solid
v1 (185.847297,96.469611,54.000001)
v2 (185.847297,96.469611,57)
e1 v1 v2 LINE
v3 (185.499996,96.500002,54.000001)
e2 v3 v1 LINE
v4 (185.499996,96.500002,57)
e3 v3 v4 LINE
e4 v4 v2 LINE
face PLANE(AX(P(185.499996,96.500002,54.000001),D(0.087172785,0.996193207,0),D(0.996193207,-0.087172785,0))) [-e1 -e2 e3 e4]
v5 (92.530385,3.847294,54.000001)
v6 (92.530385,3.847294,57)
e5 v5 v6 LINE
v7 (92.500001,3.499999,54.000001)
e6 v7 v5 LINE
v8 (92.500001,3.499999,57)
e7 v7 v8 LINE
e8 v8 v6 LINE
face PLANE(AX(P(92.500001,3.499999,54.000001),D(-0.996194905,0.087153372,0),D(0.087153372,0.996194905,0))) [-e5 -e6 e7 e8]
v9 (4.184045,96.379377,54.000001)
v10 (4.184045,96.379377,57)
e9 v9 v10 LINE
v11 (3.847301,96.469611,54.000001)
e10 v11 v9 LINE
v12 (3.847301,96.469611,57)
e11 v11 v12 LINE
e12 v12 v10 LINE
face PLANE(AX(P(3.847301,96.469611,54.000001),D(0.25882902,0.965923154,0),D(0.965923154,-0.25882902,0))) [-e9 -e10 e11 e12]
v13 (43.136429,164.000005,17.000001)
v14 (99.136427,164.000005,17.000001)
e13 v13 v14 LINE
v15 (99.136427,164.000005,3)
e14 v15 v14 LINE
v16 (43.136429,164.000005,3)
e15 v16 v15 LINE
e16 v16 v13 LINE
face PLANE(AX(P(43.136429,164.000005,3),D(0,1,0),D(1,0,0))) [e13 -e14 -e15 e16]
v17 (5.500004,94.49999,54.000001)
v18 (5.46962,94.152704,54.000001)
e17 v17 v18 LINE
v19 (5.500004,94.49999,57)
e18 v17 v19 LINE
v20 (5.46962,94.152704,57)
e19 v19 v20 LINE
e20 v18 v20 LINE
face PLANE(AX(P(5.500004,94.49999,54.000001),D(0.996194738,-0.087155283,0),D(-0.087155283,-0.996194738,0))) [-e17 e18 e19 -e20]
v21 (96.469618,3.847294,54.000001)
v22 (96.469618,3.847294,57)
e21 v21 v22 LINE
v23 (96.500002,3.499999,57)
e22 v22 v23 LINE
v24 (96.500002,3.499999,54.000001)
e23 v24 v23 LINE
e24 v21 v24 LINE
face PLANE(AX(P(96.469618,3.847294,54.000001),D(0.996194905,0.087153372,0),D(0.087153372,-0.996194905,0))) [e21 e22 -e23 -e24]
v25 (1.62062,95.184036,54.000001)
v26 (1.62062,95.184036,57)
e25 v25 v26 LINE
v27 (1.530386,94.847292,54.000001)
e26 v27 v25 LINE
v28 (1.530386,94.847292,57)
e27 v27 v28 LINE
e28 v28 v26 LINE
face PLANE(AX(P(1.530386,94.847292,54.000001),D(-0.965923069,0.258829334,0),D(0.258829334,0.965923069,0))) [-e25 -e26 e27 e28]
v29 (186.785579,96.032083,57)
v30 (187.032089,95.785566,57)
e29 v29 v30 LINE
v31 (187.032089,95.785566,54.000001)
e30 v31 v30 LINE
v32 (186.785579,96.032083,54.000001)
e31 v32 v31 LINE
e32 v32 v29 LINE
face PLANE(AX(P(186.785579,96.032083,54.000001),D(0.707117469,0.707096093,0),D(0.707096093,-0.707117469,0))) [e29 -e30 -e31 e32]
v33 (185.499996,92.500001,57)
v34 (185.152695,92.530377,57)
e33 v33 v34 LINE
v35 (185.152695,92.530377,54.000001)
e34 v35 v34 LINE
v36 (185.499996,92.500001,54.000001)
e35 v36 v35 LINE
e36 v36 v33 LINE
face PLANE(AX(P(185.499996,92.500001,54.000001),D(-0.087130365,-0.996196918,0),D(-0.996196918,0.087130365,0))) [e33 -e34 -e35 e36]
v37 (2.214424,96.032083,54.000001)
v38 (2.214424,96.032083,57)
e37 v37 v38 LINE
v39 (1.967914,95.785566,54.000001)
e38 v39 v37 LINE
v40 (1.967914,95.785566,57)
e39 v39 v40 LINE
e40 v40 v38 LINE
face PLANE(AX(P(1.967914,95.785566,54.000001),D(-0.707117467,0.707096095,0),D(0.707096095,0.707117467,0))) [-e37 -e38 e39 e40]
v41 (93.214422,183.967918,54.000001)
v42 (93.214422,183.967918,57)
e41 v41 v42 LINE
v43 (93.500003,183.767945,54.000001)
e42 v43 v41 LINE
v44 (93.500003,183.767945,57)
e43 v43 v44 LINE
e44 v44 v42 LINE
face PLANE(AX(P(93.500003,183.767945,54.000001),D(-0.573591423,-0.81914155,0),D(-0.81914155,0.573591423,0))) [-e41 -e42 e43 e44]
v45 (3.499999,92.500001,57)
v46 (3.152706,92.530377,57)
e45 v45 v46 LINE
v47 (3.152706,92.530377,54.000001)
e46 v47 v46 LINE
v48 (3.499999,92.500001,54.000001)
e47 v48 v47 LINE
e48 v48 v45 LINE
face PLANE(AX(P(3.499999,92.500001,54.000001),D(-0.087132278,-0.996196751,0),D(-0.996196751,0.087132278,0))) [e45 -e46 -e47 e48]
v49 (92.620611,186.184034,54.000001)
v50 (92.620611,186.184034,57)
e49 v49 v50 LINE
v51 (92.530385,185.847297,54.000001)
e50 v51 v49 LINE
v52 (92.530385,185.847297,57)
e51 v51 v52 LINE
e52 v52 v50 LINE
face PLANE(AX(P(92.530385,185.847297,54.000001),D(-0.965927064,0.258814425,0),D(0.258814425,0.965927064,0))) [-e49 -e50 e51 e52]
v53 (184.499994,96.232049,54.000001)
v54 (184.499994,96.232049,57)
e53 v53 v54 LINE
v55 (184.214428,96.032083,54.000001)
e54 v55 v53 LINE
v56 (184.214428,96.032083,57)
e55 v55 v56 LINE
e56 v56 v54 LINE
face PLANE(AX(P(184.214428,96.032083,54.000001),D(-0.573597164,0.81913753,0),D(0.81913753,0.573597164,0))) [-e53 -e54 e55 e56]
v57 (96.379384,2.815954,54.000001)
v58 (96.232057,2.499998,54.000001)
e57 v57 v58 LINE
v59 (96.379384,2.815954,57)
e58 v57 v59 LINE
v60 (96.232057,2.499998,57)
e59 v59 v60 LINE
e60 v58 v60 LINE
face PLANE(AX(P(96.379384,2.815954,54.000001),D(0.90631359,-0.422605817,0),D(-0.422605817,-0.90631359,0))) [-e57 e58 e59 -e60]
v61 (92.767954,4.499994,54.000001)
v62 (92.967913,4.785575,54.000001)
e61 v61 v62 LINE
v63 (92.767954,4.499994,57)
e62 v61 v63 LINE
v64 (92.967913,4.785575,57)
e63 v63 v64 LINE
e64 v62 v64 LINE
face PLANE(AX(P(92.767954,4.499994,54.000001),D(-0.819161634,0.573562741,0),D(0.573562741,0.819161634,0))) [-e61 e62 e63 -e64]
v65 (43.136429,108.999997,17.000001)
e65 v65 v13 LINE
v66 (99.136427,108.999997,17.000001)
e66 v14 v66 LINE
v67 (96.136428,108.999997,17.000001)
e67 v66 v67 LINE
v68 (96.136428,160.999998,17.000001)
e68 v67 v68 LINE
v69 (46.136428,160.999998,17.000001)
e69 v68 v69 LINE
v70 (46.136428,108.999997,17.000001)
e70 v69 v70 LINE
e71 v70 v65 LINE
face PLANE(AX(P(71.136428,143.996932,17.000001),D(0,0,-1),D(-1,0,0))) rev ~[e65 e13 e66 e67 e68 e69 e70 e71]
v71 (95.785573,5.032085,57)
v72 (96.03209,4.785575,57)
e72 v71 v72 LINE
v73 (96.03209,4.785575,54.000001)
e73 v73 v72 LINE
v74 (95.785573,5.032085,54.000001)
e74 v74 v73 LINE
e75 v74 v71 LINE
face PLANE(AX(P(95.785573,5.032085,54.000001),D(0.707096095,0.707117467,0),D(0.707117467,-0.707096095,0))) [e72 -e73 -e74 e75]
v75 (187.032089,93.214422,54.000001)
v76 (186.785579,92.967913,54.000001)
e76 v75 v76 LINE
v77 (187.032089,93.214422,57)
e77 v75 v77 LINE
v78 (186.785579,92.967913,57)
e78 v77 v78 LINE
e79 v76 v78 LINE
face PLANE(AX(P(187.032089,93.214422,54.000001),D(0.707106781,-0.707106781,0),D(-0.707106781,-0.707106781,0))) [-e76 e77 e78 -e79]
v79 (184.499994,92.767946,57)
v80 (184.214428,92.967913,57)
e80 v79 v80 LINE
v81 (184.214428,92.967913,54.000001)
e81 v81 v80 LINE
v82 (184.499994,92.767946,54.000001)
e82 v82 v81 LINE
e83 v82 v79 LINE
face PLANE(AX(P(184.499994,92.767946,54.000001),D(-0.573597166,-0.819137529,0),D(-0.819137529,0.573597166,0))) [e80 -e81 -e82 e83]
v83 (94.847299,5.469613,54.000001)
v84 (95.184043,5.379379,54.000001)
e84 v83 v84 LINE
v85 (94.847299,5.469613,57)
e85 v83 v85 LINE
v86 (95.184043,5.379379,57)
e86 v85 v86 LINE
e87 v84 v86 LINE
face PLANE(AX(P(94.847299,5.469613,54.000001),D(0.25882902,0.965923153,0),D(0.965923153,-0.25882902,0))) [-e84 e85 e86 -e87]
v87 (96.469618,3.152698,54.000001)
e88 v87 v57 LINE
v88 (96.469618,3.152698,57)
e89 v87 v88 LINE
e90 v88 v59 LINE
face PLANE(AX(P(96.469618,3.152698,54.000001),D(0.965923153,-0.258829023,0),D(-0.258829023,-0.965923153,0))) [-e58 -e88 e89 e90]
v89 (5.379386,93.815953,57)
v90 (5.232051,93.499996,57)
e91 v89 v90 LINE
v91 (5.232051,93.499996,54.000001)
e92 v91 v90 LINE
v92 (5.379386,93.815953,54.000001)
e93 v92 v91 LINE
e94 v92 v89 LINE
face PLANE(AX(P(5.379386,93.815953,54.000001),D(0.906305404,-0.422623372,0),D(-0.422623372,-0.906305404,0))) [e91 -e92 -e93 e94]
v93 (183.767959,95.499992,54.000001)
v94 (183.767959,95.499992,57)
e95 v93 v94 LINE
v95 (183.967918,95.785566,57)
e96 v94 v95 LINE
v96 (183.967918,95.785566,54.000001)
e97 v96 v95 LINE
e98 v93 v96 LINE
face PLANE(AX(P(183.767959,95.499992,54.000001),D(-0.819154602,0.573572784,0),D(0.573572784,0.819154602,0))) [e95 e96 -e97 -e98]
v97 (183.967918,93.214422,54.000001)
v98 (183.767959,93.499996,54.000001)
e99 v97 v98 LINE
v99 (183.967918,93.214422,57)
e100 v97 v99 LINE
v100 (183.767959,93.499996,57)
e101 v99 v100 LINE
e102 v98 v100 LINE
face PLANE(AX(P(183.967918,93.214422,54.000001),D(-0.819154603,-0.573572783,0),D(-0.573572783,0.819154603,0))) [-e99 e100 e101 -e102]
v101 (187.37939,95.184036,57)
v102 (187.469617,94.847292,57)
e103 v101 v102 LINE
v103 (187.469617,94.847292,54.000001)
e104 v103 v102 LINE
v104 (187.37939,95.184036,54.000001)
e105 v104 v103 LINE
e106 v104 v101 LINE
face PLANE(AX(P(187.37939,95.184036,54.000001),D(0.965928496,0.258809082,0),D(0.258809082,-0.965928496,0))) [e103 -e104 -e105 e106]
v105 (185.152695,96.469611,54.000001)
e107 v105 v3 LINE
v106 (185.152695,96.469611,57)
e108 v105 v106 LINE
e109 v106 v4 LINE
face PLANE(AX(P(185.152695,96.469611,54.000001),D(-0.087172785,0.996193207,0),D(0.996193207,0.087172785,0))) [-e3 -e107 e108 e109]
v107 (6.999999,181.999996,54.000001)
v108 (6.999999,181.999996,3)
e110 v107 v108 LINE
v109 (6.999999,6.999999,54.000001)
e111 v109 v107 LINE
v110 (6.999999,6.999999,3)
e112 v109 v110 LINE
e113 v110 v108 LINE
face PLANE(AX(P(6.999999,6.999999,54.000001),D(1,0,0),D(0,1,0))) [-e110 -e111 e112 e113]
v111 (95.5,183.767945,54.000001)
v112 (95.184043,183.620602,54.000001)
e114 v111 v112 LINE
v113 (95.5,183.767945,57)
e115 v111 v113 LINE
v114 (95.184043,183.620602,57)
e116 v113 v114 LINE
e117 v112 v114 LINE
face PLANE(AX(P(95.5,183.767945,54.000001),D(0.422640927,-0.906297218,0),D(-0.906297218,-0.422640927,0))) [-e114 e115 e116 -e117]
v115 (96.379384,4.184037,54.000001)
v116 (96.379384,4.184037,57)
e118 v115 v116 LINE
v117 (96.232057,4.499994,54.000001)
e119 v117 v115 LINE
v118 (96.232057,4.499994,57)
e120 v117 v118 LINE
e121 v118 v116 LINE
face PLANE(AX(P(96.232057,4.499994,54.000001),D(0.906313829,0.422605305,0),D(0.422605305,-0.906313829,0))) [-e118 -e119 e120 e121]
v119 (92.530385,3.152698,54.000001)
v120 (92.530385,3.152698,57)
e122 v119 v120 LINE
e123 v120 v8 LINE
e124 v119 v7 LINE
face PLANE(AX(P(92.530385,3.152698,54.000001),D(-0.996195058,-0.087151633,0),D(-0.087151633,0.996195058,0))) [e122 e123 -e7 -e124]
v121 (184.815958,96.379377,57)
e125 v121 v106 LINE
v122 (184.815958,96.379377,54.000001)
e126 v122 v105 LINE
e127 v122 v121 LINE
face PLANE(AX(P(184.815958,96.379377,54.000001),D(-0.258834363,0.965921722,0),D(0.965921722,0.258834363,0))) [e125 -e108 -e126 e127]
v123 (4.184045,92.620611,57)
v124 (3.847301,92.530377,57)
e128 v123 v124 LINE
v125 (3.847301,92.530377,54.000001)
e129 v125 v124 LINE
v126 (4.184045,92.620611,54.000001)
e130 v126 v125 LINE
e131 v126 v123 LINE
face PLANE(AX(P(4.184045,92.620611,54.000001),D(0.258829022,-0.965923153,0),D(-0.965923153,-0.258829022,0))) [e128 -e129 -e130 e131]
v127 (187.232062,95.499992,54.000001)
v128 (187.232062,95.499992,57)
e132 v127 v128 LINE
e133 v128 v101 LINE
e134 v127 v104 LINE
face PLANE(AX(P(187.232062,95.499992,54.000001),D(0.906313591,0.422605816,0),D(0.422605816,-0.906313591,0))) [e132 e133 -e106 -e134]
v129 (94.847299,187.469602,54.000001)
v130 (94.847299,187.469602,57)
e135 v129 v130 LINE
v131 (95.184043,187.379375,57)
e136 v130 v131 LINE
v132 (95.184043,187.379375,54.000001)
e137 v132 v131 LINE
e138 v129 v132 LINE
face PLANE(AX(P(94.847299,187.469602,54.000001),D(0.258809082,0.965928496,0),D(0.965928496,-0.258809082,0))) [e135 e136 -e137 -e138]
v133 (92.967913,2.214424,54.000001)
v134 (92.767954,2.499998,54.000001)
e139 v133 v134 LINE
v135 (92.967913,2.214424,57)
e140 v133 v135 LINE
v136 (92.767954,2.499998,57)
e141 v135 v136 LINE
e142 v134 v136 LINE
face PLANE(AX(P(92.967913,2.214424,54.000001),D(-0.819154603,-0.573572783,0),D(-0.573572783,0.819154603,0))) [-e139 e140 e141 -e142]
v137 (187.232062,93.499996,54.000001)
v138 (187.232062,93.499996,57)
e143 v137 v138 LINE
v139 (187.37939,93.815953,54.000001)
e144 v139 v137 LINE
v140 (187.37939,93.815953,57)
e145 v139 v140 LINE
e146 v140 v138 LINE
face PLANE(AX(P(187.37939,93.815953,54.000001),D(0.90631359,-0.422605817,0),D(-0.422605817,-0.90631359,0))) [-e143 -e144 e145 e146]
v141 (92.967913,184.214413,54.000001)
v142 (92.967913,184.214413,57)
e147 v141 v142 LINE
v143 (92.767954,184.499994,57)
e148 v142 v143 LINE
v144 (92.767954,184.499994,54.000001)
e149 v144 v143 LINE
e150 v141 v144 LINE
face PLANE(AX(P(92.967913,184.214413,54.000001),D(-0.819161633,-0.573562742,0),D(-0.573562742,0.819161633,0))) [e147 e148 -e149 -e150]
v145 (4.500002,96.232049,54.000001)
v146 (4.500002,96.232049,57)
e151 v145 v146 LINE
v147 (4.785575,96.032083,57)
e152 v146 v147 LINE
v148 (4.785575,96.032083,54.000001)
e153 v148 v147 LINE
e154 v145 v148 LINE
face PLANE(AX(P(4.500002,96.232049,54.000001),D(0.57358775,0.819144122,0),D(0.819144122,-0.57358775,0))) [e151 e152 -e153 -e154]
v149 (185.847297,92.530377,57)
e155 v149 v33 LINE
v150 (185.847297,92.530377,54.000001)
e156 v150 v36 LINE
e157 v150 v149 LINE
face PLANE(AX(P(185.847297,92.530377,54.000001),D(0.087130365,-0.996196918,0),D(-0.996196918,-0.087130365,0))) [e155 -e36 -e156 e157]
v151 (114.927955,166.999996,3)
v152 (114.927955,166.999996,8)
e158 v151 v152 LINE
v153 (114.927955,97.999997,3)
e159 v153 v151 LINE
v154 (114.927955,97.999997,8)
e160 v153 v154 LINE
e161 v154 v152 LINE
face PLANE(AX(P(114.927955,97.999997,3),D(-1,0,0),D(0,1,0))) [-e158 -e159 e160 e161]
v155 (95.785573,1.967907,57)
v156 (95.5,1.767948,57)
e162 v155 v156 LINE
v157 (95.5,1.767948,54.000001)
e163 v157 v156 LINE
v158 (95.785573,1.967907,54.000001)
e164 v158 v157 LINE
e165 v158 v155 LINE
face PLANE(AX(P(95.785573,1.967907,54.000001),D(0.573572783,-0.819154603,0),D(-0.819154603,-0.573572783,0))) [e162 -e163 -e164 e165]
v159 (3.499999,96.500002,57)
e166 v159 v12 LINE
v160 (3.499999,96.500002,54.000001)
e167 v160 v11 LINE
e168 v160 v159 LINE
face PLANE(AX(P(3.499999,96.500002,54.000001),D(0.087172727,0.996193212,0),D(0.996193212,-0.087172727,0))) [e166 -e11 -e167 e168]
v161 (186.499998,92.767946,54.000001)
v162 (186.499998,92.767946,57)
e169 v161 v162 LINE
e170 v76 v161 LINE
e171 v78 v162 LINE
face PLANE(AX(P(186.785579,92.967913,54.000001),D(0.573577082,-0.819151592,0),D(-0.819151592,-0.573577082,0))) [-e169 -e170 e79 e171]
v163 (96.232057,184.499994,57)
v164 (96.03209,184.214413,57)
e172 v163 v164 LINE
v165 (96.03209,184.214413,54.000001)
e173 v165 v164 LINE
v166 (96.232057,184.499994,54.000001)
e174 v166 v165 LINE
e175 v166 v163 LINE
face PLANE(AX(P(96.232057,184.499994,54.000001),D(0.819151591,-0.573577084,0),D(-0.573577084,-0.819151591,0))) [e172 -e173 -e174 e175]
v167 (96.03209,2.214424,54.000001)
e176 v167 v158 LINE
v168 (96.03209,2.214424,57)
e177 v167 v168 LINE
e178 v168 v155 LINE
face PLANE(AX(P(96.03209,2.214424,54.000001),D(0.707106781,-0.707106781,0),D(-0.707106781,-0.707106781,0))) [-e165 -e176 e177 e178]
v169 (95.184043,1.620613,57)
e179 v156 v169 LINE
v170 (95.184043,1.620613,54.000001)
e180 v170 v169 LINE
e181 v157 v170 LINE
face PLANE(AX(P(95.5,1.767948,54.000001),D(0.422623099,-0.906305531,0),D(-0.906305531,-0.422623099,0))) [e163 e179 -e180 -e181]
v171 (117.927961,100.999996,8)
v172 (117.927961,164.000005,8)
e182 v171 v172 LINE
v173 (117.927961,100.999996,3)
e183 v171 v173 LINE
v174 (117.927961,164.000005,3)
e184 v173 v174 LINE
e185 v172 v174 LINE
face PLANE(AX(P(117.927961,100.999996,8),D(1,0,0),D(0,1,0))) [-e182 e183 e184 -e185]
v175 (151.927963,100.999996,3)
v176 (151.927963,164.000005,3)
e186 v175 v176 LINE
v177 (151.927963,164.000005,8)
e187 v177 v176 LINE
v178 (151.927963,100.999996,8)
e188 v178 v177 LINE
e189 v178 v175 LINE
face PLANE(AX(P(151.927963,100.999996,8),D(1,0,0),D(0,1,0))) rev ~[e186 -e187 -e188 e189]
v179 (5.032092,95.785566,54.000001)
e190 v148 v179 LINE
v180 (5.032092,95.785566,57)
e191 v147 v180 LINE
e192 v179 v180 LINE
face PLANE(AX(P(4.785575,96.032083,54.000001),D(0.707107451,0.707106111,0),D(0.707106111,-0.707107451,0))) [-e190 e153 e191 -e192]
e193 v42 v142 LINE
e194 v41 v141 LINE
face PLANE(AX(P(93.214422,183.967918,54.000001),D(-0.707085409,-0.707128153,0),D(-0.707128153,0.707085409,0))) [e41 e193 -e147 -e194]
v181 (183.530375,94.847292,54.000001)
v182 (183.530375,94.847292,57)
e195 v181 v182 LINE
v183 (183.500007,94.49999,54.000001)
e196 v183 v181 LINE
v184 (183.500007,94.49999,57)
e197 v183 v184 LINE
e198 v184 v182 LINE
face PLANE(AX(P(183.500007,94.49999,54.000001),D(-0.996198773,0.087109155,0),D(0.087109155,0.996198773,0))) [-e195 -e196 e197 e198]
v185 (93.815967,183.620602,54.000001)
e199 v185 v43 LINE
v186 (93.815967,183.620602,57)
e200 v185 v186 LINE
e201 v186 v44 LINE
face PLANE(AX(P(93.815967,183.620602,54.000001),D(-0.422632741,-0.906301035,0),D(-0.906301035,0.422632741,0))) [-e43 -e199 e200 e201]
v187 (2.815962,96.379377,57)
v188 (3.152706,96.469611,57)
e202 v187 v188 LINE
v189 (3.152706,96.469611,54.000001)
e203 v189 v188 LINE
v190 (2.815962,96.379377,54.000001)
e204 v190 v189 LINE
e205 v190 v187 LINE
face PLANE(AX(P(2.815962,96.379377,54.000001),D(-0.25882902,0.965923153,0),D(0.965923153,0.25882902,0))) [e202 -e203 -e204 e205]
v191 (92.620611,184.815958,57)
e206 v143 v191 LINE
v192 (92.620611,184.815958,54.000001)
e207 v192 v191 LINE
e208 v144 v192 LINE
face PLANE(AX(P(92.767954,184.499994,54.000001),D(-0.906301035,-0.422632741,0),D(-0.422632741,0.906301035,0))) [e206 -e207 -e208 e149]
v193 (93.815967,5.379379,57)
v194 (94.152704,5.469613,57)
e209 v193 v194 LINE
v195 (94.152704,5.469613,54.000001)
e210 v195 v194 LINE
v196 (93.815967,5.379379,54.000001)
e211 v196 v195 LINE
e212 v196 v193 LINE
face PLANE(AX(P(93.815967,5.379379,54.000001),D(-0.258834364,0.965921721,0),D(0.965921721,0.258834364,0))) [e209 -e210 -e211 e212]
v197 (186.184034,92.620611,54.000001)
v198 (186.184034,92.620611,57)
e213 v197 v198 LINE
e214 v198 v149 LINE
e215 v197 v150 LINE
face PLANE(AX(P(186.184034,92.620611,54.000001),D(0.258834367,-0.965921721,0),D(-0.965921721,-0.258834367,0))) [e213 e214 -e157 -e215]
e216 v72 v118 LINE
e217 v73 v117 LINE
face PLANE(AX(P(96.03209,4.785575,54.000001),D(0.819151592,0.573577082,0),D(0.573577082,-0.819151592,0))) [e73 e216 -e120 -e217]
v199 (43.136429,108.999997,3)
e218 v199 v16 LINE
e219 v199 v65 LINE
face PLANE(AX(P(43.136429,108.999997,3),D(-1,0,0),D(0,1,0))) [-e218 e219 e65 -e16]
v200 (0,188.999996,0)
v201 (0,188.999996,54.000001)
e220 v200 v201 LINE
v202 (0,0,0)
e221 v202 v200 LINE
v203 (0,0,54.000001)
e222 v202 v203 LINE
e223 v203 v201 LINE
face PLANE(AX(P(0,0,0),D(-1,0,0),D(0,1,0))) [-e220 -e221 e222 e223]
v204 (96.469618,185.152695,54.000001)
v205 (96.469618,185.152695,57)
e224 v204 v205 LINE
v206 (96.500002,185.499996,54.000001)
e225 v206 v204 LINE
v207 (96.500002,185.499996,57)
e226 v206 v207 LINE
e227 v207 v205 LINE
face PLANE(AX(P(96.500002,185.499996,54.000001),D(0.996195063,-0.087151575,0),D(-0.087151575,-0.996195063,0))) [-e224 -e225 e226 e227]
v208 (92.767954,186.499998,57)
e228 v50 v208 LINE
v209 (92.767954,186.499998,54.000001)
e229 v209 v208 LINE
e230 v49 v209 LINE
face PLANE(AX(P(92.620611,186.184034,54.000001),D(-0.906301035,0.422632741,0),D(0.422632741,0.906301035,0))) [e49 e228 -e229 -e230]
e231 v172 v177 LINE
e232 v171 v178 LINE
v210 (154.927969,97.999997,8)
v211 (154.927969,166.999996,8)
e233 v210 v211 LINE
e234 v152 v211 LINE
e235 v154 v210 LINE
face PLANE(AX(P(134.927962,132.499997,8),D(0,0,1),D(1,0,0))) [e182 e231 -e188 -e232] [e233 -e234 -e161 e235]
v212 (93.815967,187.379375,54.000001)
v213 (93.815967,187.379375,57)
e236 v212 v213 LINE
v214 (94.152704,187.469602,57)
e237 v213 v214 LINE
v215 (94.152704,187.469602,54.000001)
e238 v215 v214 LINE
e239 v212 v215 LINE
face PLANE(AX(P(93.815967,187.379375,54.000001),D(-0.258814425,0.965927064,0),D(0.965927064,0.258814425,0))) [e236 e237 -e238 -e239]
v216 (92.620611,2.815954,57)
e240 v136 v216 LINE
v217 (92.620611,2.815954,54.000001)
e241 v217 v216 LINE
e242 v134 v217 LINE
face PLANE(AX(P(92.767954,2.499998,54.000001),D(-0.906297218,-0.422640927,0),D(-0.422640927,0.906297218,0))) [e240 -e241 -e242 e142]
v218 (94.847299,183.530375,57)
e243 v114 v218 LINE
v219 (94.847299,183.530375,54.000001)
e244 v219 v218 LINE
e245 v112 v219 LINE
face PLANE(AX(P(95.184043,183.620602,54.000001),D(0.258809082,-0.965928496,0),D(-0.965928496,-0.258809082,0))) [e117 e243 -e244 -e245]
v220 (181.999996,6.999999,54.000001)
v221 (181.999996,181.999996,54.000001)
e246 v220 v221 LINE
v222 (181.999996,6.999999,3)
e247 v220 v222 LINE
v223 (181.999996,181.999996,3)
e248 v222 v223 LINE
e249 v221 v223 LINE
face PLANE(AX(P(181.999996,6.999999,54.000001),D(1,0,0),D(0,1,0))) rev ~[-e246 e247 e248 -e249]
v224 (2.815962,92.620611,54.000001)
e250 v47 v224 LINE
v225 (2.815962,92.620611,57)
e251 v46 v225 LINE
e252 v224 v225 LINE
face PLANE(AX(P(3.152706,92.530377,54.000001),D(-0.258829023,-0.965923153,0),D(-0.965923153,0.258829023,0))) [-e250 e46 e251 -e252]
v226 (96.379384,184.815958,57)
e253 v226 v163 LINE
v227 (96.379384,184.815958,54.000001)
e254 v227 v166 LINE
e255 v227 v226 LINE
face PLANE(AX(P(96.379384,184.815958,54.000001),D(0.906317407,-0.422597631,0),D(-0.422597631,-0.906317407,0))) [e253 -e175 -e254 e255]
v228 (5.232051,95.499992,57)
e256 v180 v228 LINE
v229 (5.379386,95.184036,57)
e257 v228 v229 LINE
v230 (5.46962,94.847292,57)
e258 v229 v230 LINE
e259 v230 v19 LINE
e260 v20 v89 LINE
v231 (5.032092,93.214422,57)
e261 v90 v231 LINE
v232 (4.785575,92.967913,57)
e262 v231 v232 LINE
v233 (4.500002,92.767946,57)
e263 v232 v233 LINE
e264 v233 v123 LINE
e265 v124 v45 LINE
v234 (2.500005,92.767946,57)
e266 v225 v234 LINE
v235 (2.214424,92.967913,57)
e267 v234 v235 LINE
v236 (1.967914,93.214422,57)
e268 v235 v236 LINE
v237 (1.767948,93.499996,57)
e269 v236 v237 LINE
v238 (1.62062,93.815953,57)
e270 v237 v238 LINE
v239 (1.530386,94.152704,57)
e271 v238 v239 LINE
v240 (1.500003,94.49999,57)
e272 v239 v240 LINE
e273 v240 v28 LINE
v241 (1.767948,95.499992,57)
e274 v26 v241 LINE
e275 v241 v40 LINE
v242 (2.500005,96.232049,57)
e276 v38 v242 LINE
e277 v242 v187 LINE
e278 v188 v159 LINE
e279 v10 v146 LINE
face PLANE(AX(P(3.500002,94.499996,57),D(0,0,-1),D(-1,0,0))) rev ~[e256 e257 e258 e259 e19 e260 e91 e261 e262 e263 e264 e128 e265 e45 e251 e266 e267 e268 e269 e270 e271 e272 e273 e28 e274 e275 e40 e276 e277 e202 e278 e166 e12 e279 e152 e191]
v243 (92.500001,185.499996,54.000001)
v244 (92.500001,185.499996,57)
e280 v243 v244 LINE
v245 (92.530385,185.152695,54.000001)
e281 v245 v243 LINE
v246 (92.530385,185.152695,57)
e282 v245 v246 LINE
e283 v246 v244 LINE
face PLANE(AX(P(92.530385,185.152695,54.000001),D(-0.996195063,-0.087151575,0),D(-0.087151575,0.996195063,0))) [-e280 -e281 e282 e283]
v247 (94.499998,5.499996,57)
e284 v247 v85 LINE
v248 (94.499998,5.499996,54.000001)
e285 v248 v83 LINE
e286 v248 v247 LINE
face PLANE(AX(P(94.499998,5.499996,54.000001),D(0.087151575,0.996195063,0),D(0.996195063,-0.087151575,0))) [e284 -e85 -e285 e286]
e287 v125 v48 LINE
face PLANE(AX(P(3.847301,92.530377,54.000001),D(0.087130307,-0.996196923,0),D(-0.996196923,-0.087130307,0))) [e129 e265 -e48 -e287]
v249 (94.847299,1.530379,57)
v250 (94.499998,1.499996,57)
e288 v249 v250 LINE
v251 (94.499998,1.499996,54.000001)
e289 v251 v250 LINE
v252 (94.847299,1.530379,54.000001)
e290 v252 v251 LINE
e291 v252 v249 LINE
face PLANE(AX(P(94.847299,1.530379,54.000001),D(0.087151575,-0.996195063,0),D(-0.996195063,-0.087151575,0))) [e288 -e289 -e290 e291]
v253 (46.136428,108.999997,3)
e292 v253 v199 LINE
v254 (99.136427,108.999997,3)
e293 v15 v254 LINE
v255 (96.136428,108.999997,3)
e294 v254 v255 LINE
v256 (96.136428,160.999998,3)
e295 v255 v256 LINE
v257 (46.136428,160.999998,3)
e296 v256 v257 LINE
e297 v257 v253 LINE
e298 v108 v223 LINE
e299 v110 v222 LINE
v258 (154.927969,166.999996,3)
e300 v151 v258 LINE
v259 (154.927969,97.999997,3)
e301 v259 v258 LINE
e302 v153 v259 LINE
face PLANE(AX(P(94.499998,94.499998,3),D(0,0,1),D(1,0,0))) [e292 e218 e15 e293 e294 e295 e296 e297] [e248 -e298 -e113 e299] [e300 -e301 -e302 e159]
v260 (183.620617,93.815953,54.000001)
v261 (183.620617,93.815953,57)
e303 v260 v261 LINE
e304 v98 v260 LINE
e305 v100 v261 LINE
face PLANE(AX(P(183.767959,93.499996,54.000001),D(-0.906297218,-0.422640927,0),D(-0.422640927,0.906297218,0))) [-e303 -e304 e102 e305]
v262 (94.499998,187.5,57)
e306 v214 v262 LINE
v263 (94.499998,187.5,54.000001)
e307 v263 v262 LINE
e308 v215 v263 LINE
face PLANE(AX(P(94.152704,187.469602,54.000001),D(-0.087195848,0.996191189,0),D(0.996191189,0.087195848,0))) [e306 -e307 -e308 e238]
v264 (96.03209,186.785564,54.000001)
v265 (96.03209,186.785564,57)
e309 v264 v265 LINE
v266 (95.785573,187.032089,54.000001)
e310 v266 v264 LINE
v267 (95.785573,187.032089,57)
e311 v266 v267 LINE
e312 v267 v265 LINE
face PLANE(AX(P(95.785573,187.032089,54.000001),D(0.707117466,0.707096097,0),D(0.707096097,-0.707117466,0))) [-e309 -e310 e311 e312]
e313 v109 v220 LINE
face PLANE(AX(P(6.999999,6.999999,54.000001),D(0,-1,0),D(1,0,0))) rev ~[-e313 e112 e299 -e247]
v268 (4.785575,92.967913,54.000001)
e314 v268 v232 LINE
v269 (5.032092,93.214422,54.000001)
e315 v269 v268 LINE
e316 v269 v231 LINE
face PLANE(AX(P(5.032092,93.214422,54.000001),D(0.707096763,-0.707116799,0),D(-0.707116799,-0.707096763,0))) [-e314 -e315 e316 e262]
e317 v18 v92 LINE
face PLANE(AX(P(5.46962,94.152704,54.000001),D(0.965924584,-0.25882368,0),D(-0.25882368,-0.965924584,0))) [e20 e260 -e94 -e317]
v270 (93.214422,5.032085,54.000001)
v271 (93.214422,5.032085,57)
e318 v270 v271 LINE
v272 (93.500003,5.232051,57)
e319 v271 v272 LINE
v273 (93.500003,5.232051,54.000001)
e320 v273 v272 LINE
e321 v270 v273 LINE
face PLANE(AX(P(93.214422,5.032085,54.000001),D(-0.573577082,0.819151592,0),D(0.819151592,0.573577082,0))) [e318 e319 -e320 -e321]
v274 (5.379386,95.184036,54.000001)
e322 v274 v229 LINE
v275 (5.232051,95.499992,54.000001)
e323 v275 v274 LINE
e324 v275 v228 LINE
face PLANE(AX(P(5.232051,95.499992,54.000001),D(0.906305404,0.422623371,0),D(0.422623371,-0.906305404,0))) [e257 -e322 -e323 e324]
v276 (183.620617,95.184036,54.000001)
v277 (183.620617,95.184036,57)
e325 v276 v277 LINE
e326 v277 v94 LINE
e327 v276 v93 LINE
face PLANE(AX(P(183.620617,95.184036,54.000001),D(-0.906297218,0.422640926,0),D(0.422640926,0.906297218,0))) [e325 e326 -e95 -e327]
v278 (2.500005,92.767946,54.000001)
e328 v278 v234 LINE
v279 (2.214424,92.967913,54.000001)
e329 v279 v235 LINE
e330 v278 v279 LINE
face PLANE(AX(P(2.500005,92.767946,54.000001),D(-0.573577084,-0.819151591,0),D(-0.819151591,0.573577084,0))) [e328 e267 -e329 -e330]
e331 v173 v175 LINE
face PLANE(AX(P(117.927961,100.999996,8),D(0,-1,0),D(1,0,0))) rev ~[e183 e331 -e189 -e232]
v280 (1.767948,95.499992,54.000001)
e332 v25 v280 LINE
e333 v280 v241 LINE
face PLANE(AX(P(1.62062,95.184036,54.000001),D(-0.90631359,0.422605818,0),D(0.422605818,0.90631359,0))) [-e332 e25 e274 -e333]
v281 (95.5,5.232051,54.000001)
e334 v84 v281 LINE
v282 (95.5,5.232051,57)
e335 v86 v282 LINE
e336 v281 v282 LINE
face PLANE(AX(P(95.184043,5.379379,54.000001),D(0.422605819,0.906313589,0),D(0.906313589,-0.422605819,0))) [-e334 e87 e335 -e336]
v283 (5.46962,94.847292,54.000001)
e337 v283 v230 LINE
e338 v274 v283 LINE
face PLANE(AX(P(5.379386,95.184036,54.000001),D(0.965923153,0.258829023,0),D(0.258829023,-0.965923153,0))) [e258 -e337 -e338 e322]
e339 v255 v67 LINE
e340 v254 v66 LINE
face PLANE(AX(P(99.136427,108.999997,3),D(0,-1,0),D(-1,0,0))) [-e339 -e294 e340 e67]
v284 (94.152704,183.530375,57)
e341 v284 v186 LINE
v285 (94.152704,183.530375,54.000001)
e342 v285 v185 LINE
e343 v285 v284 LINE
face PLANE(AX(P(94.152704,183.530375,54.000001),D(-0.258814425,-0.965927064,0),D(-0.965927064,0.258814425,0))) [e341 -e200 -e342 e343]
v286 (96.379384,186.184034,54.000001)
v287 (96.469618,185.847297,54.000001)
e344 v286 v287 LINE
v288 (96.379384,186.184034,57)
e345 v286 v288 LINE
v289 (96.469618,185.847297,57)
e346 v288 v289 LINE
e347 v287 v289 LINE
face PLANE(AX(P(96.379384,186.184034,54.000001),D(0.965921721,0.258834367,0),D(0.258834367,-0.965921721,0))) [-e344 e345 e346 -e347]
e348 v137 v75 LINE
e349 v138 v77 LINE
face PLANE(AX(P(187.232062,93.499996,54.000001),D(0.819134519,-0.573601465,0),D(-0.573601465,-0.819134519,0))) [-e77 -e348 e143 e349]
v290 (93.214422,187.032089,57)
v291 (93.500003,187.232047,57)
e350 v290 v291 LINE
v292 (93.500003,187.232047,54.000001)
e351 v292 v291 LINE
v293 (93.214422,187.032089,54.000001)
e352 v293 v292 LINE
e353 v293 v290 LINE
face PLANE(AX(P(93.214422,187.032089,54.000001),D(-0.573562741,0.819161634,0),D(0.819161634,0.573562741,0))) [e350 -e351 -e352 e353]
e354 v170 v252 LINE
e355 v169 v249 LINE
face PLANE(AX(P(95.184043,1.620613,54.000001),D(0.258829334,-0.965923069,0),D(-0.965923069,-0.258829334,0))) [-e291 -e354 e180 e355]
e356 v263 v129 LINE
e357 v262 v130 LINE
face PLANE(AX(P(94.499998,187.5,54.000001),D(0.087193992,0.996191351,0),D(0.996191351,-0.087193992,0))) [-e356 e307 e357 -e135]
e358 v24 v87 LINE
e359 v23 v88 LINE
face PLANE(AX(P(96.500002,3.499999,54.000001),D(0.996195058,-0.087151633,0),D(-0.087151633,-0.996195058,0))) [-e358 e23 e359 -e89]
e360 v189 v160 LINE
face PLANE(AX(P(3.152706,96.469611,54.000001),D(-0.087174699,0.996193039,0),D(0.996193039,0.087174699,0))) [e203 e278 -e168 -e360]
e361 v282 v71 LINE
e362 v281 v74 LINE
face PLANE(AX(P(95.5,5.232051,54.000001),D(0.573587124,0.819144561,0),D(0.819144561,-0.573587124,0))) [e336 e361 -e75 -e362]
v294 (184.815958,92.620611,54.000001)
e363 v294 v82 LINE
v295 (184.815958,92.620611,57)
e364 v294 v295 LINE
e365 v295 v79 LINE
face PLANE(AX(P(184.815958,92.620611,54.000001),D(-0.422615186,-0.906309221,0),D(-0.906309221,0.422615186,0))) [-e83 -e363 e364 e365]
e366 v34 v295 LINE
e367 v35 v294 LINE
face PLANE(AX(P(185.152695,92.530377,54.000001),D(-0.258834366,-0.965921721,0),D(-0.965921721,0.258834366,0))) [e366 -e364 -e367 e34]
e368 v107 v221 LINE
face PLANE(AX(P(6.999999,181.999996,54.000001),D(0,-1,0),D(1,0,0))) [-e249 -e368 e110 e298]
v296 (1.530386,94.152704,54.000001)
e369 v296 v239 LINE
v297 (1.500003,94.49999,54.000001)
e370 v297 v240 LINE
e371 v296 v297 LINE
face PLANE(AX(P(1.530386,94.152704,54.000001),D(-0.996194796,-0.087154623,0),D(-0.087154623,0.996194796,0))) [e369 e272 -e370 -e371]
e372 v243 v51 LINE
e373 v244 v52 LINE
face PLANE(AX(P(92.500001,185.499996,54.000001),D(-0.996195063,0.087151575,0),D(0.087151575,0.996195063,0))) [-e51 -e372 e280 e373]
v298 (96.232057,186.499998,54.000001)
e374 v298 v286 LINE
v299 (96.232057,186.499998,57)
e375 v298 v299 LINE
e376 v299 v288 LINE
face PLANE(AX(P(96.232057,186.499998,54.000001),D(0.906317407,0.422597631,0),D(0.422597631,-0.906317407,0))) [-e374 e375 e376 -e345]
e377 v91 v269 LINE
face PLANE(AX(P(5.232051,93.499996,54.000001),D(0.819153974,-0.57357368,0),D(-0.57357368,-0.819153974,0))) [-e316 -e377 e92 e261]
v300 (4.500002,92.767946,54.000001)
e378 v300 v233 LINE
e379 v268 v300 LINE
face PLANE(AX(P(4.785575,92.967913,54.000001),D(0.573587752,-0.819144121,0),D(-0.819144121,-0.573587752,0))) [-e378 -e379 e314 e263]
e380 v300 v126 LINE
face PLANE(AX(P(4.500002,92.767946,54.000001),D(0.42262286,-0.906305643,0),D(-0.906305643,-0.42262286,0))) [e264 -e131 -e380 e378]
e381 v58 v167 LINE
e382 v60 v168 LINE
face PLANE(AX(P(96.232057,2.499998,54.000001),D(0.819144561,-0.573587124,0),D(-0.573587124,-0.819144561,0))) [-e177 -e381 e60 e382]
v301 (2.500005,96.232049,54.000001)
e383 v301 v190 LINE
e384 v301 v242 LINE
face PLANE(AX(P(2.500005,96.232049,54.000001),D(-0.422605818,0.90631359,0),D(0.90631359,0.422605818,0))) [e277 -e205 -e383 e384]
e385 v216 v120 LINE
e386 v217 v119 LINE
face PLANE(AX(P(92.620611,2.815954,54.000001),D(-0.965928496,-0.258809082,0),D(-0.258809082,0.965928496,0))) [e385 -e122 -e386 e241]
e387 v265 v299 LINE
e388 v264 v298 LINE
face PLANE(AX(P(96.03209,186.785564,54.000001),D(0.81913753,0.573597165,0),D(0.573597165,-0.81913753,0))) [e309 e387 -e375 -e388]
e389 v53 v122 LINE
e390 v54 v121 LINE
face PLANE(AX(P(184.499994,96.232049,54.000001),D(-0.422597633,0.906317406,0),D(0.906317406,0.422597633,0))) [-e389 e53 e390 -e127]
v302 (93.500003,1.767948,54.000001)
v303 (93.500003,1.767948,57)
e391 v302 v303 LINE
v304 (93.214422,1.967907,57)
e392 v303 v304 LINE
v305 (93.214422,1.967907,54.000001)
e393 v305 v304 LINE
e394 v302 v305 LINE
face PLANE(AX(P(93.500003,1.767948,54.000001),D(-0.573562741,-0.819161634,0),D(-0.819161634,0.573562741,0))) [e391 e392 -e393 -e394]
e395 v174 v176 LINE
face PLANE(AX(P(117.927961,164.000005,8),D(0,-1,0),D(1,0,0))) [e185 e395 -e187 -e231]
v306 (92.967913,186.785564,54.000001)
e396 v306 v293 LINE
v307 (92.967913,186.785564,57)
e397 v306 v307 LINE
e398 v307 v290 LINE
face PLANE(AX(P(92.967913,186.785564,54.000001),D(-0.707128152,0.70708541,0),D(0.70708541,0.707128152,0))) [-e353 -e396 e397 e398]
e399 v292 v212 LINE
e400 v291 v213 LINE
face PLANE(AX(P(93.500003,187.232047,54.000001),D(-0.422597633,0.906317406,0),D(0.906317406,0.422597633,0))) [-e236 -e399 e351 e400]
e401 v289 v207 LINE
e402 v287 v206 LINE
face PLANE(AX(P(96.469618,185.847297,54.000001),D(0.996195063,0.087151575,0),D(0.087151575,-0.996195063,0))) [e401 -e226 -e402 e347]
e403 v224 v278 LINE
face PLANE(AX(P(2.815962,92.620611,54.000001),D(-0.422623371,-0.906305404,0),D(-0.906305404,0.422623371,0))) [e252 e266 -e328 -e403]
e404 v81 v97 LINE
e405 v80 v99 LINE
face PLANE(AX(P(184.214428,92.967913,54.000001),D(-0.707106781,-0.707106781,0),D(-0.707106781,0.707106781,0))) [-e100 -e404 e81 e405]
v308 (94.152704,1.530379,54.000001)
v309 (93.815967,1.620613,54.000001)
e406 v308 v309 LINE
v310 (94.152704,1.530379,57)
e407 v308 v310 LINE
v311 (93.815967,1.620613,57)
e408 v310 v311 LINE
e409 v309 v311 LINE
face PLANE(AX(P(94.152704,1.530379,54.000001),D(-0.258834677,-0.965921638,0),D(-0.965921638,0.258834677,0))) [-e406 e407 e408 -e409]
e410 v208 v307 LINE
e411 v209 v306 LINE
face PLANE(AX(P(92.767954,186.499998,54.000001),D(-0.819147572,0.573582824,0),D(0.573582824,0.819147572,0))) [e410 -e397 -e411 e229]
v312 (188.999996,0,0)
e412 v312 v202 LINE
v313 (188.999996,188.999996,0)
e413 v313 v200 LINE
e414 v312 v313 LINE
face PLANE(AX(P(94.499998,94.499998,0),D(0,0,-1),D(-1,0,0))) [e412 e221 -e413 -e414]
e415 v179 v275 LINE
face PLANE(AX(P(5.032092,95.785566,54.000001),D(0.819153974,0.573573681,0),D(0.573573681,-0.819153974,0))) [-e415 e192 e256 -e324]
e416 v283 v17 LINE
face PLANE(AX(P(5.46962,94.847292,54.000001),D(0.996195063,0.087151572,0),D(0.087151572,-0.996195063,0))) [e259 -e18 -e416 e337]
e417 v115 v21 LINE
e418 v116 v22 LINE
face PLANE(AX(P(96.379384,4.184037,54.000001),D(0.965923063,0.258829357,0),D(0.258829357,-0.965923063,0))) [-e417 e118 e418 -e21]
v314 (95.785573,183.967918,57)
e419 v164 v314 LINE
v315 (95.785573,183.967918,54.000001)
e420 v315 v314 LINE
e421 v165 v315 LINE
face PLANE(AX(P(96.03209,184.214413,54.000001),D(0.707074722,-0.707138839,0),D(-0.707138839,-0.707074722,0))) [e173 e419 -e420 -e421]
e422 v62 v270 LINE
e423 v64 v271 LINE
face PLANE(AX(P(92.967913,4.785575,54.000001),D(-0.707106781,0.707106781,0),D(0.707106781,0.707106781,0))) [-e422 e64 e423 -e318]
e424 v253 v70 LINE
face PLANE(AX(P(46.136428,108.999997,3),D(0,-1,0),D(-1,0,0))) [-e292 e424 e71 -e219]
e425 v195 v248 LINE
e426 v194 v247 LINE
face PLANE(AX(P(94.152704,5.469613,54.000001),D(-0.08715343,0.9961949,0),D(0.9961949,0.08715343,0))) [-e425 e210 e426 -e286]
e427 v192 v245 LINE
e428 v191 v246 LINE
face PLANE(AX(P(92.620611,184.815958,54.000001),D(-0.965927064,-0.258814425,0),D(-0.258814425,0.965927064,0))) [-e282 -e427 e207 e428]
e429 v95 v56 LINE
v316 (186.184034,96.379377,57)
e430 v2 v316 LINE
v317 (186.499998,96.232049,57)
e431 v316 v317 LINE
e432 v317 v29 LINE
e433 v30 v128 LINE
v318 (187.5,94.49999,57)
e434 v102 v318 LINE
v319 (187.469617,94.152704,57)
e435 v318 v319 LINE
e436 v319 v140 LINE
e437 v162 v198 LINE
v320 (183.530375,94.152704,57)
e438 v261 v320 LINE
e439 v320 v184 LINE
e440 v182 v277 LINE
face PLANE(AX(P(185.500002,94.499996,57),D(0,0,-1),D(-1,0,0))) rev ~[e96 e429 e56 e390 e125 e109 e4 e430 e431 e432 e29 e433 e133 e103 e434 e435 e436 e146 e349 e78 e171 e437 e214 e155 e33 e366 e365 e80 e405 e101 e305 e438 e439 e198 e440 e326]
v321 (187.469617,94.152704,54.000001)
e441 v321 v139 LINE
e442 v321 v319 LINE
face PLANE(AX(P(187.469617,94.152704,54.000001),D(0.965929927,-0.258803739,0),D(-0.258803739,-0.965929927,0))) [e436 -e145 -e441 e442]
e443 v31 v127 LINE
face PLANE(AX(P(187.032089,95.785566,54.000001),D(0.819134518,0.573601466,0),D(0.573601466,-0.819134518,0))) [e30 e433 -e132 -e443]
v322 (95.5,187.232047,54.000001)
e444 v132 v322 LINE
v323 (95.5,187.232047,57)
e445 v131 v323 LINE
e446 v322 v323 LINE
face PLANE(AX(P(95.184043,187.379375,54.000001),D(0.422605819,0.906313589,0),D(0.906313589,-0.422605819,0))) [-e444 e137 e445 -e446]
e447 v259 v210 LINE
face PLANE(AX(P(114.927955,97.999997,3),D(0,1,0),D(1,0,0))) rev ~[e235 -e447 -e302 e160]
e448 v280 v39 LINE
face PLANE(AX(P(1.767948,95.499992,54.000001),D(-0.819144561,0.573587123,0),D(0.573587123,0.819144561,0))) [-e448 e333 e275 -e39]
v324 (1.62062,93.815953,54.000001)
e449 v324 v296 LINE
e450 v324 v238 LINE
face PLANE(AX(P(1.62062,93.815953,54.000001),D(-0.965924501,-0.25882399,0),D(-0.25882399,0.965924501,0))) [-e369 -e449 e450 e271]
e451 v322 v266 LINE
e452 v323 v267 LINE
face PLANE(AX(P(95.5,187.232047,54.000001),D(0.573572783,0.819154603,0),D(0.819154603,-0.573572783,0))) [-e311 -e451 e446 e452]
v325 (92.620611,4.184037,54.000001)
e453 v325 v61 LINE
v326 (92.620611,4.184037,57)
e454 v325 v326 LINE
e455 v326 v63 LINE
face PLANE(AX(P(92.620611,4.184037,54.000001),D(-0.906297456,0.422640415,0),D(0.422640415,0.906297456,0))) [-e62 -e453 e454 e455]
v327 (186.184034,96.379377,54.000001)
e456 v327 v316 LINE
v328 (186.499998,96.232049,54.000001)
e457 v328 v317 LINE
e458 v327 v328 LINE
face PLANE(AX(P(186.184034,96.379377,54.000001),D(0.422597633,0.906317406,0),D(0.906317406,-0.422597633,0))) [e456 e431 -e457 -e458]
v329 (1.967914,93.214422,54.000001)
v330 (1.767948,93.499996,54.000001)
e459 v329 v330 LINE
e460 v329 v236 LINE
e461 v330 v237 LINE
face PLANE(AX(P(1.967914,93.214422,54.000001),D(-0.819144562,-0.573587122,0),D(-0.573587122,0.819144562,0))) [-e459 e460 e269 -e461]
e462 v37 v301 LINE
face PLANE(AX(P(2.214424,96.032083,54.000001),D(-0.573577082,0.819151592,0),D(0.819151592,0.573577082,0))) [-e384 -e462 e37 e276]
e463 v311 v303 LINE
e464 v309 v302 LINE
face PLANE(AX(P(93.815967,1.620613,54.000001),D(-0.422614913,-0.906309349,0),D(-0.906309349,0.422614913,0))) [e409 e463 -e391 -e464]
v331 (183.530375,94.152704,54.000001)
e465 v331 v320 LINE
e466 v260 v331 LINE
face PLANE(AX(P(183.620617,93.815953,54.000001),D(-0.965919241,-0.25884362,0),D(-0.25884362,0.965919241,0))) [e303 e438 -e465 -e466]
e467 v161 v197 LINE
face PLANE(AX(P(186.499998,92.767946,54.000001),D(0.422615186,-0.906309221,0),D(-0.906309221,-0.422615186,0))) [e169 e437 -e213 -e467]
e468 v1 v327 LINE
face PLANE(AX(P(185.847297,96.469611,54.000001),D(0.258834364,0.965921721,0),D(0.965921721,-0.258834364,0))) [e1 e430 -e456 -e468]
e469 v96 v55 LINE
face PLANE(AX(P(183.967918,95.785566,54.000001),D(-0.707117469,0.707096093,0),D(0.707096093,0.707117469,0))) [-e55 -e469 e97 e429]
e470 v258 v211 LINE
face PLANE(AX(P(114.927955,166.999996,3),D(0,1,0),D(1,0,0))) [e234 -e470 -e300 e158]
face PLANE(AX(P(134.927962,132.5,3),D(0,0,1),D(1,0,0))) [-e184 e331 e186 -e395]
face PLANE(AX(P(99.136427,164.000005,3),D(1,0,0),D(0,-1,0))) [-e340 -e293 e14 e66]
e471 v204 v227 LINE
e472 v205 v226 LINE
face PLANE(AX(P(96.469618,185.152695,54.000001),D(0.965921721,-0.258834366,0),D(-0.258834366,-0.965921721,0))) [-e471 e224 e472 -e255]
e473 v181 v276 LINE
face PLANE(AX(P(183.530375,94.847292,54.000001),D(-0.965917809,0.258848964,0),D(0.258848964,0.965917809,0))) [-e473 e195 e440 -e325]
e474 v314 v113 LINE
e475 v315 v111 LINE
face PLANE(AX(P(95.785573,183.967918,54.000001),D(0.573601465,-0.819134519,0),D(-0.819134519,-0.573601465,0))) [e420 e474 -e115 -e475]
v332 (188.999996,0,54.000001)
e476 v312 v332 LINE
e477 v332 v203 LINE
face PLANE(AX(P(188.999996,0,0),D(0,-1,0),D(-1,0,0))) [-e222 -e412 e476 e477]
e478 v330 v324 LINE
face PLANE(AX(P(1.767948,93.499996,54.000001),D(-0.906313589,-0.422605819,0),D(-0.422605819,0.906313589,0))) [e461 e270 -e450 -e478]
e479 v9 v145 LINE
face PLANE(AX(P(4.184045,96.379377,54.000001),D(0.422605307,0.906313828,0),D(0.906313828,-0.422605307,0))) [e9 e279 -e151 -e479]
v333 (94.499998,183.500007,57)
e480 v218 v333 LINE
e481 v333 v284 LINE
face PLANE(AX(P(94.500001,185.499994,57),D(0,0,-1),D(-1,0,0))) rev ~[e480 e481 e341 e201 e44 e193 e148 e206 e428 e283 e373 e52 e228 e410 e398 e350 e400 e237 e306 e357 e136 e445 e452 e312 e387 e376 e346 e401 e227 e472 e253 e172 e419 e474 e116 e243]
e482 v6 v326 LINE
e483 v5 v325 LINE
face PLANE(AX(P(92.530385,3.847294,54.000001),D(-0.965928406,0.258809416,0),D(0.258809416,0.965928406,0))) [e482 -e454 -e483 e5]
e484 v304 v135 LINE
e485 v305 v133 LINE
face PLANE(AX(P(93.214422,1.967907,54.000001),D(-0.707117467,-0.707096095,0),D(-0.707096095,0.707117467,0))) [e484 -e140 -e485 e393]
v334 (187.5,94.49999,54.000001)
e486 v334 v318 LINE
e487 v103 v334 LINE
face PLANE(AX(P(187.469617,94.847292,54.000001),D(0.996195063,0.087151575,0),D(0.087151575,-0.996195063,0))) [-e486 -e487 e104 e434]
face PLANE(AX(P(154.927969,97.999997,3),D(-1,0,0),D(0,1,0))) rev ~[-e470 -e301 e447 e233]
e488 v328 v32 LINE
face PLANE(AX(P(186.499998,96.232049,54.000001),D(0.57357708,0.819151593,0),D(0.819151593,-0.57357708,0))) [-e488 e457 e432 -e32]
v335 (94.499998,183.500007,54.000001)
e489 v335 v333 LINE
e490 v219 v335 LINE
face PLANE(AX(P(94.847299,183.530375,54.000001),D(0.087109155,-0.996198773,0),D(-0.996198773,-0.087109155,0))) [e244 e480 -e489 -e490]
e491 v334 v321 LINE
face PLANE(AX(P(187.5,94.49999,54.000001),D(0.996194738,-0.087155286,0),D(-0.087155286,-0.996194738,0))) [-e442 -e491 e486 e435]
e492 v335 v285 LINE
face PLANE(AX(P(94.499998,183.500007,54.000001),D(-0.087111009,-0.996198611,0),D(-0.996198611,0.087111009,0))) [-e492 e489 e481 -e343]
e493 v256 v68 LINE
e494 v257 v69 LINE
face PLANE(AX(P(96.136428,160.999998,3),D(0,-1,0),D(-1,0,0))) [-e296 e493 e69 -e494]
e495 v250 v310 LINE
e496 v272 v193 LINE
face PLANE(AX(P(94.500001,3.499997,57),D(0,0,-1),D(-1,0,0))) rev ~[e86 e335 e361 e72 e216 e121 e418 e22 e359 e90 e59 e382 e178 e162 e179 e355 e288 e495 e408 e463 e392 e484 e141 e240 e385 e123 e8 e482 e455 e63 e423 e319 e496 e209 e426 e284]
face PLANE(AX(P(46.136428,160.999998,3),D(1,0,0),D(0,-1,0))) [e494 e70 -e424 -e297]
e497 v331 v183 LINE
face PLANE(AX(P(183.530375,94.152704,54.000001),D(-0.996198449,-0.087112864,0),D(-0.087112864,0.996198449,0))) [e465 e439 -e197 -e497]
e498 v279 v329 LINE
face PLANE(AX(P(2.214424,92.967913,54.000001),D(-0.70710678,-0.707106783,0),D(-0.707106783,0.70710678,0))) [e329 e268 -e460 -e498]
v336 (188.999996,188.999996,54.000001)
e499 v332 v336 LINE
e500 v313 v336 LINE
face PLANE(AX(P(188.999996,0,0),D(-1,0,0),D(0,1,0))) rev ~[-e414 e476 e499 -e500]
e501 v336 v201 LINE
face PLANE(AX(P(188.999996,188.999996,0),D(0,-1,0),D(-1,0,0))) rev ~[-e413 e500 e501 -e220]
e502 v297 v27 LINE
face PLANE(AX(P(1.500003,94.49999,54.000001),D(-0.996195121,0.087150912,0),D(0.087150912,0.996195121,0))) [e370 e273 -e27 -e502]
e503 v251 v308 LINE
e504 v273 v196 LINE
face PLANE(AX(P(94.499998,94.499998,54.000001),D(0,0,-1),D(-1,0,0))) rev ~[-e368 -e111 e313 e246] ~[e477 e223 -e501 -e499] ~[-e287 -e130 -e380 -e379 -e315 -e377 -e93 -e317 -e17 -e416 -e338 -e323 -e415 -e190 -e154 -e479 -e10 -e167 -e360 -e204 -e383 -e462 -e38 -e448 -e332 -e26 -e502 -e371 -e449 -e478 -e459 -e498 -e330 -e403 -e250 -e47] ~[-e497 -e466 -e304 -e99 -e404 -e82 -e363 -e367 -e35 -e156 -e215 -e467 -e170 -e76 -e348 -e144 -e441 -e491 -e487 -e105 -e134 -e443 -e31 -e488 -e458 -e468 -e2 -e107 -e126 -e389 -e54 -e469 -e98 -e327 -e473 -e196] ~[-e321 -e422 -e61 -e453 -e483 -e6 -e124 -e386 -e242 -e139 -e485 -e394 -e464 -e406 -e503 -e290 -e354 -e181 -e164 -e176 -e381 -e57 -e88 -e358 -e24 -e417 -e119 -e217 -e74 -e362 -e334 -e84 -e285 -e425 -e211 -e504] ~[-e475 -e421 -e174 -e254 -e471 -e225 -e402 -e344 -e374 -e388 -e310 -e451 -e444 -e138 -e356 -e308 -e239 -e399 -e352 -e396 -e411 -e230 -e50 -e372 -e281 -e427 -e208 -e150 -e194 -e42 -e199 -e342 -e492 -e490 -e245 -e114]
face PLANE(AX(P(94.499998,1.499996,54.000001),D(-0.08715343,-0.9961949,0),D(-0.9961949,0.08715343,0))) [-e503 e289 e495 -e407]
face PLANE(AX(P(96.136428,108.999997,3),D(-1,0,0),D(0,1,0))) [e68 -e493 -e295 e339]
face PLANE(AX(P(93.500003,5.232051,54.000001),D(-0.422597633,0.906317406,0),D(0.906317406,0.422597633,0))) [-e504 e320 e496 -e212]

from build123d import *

# Parameters (mm, degrees)
SKETCH1_W           = 188.999995589
SKETCH1_H           = 188.999995589
BOSS_EXTRUDE1_DEPTH = 54.000001401
BOSS_EXTRUDE2_DEPTH = 2.999998629
BOSS_EXTRUDE3_DEPTH = 2.999998629
BOSS_EXTRUDE4_DEPTH = 2.999998629
BOSS_EXTRUDE5_DEPTH = 2.999998629
SKETCH6_W           = 174.999997486
SKETCH6_H           = 174.999997486
CUT_EXTRUDE1_DEPTH  = 51.000001375
BOSS_EXTRUDE6_DEPTH = 14.000000898
SKETCH8_W           = 40.000014007
SKETCH8_H           = 68.999998271
BOSS_EXTRUDE7_DEPTH = 5.000000354
SKETCH9_W           = 34.000001848
SKETCH9_H           = 63.000008464
CUT_EXTRUDE2_DEPTH  = 5.000000354


with BuildPart() as part:
    # Sketch1 → Boss-Extrude1 (new body)
    with BuildSketch(Plane(origin=(0, 0, 0), x_dir=(-1, 0, 0), z_dir=(0, 0, -1))):
        with Locations((-94.499997795, 94.499997795)):
            Rectangle(SKETCH1_W, SKETCH1_H)
    extrude(amount=-BOSS_EXTRUDE1_DEPTH)

    # Sketch2 → Boss-Extrude2 (add)
    with BuildSketch(Plane.XY.offset(54.000001401)):
        Polygon((3.152705729, 96.469610929), (3.49999941, 96.500001848), (3.847301006, 96.469610929), (4.184044898, 96.379376948), (4.500002135, 96.232049167), (4.785574973, 96.032083035), (5.032091867, 95.785565674), (5.232051015, 95.499992371), (5.379386246, 95.184035599), (5.469620228, 94.847291708), (5.500003695, 94.499990344), (5.469620228, 94.152703881), (5.379386246, 93.815952539), (5.232051015, 93.499995768), (5.032091867, 93.214422464), (4.785574973, 92.967912555), (4.500002135, 92.767946422), (4.184044898, 92.620611191), (3.847301006, 92.530377209), (3.49999941, 92.500001192), (3.152705729, 92.530377209), (2.815961838, 92.620611191), (2.500005066, 92.767946422), (2.214424312, 92.967912555), (1.967914402, 93.214422464), (1.76794827, 93.499995768), (1.620620489, 93.815952539), (1.530386391, 94.152703881), (1.500003156, 94.499990344), (1.530386391, 94.847291708), (1.620620489, 95.184035599), (1.76794827, 95.499992371), (1.967914402, 95.785565674), (2.214424312, 96.032083035), (2.500005066, 96.232049167), (2.815961838, 96.379376948), align=None)
    extrude(amount=BOSS_EXTRUDE2_DEPTH)

    # Sketch3 → Boss-Extrude3 (add)
    with BuildSketch(Plane.XY.offset(54.000001401)):
        Polygon((96.032090485, 184.214413166), (95.785573125, 183.967918158), (95.499999821, 183.767944574), (95.18404305, 183.620601892), (94.847299159, 183.530375361), (94.499997795, 183.500006795), (94.152703881, 183.530375361), (93.815967441, 183.620601892), (93.500003219, 183.767944574), (93.214422464, 183.967918158), (92.967912555, 184.214413166), (92.767953873, 184.49999392), (92.620611191, 184.815958142), (92.53038466, 185.152694583), (92.500001192, 185.499995947), (92.53038466, 185.847297311), (92.620611191, 186.184033751), (92.767953873, 186.499997973), (92.967912555, 186.785563827), (93.214422464, 187.032088637), (93.500003219, 187.232047319), (93.815967441, 187.3793751), (94.152703881, 187.469601631), (94.499997795, 187.5), (94.847299159, 187.469601631), (95.18404305, 187.3793751), (95.499999821, 187.232047319), (95.785573125, 187.032088637), (96.032090485, 186.785563827), (96.232056618, 186.499997973), (96.379384398, 186.184033751), (96.46961838, 185.847297311), (96.500001848, 185.499995947), (96.46961838, 185.152694583), (96.379384398, 184.815958142), (96.232056618, 184.49999392), align=None)
    extrude(amount=BOSS_EXTRUDE3_DEPTH)

    # Sketch4 → Boss-Extrude4 (add)
    with BuildSketch(Plane.XY.offset(54.000001401)):
        Polygon((185.847297311, 92.530377209), (185.499995947, 92.500001192), (185.152694583, 92.530377209), (184.815958142, 92.620611191), (184.49999392, 92.767946422), (184.214428067, 92.967912555), (183.967918158, 93.214422464), (183.767959476, 93.499995768), (183.620616794, 93.815952539), (183.530375361, 94.152703881), (183.500006795, 94.499990344), (183.530375361, 94.847291708), (183.620616794, 95.184035599), (183.767959476, 95.499992371), (183.967918158, 95.785565674), (184.214428067, 96.032083035), (184.49999392, 96.232049167), (184.815958142, 96.379376948), (185.152694583, 96.469610929), (185.499995947, 96.500001848), (185.847297311, 96.469610929), (186.184033751, 96.379376948), (186.499997973, 96.232049167), (186.785578728, 96.032083035), (187.032088637, 95.785565674), (187.232062221, 95.499992371), (187.379390001, 95.184035599), (187.469616532, 94.847291708), (187.5, 94.499990344), (187.469616532, 94.152703881), (187.379390001, 93.815952539), (187.232062221, 93.499995768), (187.032088637, 93.214422464), (186.785578728, 92.967912555), (186.499997973, 92.767946422), (186.184033751, 92.620611191), align=None)
    extrude(amount=BOSS_EXTRUDE4_DEPTH)

    # Sketch5 → Boss-Extrude5 (add)
    with BuildSketch(Plane.XY.offset(54.000001401)):
        Polygon((92.967912555, 2.214424312), (92.767953873, 2.499997616), (92.620611191, 2.815954387), (92.53038466, 3.152698278), (92.500001192, 3.49999941), (92.53038466, 3.847293556), (92.620611191, 4.184036981), (92.767953873, 4.499994218), (92.967912555, 4.785574973), (93.214422464, 5.032084882), (93.500003219, 5.232051015), (93.815967441, 5.379378796), (94.152703881, 5.469612777), (94.499997795, 5.499996245), (94.847299159, 5.469612777), (95.18404305, 5.379378796), (95.499999821, 5.232051015), (95.785573125, 5.032084882), (96.032090485, 4.785574973), (96.232056618, 4.499994218), (96.379384398, 4.184036981), (96.46961838, 3.847293556), (96.500001848, 3.49999941), (96.46961838, 3.152698278), (96.379384398, 2.815954387), (96.232056618, 2.499997616), (96.032090485, 2.214424312), (95.785573125, 1.967906952), (95.499999821, 1.76794827), (95.18404305, 1.620613155), (94.847299159, 1.530379057), (94.499997795, 1.499995589), (94.152703881, 1.530379057), (93.815967441, 1.620613155), (93.500003219, 1.76794827), (93.214422464, 1.967906952), align=None)
    extrude(amount=BOSS_EXTRUDE5_DEPTH)

    # Sketch6 → Cut-Extrude1 (cut)
    with BuildSketch(Plane.XY.offset(54.000001401)):
        with Locations((94.499997562, 94.499997562)):
            Rectangle(SKETCH6_W, SKETCH6_H)
    extrude(amount=-CUT_EXTRUDE1_DEPTH, mode=Mode.SUBTRACT)

    # Sketch7 → Boss-Extrude6 (add)
    with BuildSketch(Plane.XY.offset(3.000000026)):
        Polygon((96.136428416, 160.99999845), (46.136427671, 160.99999845), (46.136427671, 108.999997377), (43.136429042, 108.999997377), (43.136429042, 164.00000453), (99.136427045, 164.00000453), (99.136427045, 108.999997377), (96.136428416, 108.999997377), align=None)
    extrude(amount=BOSS_EXTRUDE6_DEPTH)

    # Sketch8 → Boss-Extrude7 (add)
    with BuildSketch(Plane.XY.offset(3.000000026)):
        with Locations((134.927961976, 132.499996573)):
            Rectangle(SKETCH8_W, SKETCH8_H)
    extrude(amount=BOSS_EXTRUDE7_DEPTH)

    # Sketch9 → Cut-Extrude2 (cut)
    with BuildSketch(Plane.XY.offset(8.00000038)):
        with Locations((134.927961975, 132.500000298)):
            Rectangle(SKETCH9_W, SKETCH9_H)
    extrude(amount=-CUT_EXTRUDE2_DEPTH, mode=Mode.SUBTRACT)


solid = part.part
